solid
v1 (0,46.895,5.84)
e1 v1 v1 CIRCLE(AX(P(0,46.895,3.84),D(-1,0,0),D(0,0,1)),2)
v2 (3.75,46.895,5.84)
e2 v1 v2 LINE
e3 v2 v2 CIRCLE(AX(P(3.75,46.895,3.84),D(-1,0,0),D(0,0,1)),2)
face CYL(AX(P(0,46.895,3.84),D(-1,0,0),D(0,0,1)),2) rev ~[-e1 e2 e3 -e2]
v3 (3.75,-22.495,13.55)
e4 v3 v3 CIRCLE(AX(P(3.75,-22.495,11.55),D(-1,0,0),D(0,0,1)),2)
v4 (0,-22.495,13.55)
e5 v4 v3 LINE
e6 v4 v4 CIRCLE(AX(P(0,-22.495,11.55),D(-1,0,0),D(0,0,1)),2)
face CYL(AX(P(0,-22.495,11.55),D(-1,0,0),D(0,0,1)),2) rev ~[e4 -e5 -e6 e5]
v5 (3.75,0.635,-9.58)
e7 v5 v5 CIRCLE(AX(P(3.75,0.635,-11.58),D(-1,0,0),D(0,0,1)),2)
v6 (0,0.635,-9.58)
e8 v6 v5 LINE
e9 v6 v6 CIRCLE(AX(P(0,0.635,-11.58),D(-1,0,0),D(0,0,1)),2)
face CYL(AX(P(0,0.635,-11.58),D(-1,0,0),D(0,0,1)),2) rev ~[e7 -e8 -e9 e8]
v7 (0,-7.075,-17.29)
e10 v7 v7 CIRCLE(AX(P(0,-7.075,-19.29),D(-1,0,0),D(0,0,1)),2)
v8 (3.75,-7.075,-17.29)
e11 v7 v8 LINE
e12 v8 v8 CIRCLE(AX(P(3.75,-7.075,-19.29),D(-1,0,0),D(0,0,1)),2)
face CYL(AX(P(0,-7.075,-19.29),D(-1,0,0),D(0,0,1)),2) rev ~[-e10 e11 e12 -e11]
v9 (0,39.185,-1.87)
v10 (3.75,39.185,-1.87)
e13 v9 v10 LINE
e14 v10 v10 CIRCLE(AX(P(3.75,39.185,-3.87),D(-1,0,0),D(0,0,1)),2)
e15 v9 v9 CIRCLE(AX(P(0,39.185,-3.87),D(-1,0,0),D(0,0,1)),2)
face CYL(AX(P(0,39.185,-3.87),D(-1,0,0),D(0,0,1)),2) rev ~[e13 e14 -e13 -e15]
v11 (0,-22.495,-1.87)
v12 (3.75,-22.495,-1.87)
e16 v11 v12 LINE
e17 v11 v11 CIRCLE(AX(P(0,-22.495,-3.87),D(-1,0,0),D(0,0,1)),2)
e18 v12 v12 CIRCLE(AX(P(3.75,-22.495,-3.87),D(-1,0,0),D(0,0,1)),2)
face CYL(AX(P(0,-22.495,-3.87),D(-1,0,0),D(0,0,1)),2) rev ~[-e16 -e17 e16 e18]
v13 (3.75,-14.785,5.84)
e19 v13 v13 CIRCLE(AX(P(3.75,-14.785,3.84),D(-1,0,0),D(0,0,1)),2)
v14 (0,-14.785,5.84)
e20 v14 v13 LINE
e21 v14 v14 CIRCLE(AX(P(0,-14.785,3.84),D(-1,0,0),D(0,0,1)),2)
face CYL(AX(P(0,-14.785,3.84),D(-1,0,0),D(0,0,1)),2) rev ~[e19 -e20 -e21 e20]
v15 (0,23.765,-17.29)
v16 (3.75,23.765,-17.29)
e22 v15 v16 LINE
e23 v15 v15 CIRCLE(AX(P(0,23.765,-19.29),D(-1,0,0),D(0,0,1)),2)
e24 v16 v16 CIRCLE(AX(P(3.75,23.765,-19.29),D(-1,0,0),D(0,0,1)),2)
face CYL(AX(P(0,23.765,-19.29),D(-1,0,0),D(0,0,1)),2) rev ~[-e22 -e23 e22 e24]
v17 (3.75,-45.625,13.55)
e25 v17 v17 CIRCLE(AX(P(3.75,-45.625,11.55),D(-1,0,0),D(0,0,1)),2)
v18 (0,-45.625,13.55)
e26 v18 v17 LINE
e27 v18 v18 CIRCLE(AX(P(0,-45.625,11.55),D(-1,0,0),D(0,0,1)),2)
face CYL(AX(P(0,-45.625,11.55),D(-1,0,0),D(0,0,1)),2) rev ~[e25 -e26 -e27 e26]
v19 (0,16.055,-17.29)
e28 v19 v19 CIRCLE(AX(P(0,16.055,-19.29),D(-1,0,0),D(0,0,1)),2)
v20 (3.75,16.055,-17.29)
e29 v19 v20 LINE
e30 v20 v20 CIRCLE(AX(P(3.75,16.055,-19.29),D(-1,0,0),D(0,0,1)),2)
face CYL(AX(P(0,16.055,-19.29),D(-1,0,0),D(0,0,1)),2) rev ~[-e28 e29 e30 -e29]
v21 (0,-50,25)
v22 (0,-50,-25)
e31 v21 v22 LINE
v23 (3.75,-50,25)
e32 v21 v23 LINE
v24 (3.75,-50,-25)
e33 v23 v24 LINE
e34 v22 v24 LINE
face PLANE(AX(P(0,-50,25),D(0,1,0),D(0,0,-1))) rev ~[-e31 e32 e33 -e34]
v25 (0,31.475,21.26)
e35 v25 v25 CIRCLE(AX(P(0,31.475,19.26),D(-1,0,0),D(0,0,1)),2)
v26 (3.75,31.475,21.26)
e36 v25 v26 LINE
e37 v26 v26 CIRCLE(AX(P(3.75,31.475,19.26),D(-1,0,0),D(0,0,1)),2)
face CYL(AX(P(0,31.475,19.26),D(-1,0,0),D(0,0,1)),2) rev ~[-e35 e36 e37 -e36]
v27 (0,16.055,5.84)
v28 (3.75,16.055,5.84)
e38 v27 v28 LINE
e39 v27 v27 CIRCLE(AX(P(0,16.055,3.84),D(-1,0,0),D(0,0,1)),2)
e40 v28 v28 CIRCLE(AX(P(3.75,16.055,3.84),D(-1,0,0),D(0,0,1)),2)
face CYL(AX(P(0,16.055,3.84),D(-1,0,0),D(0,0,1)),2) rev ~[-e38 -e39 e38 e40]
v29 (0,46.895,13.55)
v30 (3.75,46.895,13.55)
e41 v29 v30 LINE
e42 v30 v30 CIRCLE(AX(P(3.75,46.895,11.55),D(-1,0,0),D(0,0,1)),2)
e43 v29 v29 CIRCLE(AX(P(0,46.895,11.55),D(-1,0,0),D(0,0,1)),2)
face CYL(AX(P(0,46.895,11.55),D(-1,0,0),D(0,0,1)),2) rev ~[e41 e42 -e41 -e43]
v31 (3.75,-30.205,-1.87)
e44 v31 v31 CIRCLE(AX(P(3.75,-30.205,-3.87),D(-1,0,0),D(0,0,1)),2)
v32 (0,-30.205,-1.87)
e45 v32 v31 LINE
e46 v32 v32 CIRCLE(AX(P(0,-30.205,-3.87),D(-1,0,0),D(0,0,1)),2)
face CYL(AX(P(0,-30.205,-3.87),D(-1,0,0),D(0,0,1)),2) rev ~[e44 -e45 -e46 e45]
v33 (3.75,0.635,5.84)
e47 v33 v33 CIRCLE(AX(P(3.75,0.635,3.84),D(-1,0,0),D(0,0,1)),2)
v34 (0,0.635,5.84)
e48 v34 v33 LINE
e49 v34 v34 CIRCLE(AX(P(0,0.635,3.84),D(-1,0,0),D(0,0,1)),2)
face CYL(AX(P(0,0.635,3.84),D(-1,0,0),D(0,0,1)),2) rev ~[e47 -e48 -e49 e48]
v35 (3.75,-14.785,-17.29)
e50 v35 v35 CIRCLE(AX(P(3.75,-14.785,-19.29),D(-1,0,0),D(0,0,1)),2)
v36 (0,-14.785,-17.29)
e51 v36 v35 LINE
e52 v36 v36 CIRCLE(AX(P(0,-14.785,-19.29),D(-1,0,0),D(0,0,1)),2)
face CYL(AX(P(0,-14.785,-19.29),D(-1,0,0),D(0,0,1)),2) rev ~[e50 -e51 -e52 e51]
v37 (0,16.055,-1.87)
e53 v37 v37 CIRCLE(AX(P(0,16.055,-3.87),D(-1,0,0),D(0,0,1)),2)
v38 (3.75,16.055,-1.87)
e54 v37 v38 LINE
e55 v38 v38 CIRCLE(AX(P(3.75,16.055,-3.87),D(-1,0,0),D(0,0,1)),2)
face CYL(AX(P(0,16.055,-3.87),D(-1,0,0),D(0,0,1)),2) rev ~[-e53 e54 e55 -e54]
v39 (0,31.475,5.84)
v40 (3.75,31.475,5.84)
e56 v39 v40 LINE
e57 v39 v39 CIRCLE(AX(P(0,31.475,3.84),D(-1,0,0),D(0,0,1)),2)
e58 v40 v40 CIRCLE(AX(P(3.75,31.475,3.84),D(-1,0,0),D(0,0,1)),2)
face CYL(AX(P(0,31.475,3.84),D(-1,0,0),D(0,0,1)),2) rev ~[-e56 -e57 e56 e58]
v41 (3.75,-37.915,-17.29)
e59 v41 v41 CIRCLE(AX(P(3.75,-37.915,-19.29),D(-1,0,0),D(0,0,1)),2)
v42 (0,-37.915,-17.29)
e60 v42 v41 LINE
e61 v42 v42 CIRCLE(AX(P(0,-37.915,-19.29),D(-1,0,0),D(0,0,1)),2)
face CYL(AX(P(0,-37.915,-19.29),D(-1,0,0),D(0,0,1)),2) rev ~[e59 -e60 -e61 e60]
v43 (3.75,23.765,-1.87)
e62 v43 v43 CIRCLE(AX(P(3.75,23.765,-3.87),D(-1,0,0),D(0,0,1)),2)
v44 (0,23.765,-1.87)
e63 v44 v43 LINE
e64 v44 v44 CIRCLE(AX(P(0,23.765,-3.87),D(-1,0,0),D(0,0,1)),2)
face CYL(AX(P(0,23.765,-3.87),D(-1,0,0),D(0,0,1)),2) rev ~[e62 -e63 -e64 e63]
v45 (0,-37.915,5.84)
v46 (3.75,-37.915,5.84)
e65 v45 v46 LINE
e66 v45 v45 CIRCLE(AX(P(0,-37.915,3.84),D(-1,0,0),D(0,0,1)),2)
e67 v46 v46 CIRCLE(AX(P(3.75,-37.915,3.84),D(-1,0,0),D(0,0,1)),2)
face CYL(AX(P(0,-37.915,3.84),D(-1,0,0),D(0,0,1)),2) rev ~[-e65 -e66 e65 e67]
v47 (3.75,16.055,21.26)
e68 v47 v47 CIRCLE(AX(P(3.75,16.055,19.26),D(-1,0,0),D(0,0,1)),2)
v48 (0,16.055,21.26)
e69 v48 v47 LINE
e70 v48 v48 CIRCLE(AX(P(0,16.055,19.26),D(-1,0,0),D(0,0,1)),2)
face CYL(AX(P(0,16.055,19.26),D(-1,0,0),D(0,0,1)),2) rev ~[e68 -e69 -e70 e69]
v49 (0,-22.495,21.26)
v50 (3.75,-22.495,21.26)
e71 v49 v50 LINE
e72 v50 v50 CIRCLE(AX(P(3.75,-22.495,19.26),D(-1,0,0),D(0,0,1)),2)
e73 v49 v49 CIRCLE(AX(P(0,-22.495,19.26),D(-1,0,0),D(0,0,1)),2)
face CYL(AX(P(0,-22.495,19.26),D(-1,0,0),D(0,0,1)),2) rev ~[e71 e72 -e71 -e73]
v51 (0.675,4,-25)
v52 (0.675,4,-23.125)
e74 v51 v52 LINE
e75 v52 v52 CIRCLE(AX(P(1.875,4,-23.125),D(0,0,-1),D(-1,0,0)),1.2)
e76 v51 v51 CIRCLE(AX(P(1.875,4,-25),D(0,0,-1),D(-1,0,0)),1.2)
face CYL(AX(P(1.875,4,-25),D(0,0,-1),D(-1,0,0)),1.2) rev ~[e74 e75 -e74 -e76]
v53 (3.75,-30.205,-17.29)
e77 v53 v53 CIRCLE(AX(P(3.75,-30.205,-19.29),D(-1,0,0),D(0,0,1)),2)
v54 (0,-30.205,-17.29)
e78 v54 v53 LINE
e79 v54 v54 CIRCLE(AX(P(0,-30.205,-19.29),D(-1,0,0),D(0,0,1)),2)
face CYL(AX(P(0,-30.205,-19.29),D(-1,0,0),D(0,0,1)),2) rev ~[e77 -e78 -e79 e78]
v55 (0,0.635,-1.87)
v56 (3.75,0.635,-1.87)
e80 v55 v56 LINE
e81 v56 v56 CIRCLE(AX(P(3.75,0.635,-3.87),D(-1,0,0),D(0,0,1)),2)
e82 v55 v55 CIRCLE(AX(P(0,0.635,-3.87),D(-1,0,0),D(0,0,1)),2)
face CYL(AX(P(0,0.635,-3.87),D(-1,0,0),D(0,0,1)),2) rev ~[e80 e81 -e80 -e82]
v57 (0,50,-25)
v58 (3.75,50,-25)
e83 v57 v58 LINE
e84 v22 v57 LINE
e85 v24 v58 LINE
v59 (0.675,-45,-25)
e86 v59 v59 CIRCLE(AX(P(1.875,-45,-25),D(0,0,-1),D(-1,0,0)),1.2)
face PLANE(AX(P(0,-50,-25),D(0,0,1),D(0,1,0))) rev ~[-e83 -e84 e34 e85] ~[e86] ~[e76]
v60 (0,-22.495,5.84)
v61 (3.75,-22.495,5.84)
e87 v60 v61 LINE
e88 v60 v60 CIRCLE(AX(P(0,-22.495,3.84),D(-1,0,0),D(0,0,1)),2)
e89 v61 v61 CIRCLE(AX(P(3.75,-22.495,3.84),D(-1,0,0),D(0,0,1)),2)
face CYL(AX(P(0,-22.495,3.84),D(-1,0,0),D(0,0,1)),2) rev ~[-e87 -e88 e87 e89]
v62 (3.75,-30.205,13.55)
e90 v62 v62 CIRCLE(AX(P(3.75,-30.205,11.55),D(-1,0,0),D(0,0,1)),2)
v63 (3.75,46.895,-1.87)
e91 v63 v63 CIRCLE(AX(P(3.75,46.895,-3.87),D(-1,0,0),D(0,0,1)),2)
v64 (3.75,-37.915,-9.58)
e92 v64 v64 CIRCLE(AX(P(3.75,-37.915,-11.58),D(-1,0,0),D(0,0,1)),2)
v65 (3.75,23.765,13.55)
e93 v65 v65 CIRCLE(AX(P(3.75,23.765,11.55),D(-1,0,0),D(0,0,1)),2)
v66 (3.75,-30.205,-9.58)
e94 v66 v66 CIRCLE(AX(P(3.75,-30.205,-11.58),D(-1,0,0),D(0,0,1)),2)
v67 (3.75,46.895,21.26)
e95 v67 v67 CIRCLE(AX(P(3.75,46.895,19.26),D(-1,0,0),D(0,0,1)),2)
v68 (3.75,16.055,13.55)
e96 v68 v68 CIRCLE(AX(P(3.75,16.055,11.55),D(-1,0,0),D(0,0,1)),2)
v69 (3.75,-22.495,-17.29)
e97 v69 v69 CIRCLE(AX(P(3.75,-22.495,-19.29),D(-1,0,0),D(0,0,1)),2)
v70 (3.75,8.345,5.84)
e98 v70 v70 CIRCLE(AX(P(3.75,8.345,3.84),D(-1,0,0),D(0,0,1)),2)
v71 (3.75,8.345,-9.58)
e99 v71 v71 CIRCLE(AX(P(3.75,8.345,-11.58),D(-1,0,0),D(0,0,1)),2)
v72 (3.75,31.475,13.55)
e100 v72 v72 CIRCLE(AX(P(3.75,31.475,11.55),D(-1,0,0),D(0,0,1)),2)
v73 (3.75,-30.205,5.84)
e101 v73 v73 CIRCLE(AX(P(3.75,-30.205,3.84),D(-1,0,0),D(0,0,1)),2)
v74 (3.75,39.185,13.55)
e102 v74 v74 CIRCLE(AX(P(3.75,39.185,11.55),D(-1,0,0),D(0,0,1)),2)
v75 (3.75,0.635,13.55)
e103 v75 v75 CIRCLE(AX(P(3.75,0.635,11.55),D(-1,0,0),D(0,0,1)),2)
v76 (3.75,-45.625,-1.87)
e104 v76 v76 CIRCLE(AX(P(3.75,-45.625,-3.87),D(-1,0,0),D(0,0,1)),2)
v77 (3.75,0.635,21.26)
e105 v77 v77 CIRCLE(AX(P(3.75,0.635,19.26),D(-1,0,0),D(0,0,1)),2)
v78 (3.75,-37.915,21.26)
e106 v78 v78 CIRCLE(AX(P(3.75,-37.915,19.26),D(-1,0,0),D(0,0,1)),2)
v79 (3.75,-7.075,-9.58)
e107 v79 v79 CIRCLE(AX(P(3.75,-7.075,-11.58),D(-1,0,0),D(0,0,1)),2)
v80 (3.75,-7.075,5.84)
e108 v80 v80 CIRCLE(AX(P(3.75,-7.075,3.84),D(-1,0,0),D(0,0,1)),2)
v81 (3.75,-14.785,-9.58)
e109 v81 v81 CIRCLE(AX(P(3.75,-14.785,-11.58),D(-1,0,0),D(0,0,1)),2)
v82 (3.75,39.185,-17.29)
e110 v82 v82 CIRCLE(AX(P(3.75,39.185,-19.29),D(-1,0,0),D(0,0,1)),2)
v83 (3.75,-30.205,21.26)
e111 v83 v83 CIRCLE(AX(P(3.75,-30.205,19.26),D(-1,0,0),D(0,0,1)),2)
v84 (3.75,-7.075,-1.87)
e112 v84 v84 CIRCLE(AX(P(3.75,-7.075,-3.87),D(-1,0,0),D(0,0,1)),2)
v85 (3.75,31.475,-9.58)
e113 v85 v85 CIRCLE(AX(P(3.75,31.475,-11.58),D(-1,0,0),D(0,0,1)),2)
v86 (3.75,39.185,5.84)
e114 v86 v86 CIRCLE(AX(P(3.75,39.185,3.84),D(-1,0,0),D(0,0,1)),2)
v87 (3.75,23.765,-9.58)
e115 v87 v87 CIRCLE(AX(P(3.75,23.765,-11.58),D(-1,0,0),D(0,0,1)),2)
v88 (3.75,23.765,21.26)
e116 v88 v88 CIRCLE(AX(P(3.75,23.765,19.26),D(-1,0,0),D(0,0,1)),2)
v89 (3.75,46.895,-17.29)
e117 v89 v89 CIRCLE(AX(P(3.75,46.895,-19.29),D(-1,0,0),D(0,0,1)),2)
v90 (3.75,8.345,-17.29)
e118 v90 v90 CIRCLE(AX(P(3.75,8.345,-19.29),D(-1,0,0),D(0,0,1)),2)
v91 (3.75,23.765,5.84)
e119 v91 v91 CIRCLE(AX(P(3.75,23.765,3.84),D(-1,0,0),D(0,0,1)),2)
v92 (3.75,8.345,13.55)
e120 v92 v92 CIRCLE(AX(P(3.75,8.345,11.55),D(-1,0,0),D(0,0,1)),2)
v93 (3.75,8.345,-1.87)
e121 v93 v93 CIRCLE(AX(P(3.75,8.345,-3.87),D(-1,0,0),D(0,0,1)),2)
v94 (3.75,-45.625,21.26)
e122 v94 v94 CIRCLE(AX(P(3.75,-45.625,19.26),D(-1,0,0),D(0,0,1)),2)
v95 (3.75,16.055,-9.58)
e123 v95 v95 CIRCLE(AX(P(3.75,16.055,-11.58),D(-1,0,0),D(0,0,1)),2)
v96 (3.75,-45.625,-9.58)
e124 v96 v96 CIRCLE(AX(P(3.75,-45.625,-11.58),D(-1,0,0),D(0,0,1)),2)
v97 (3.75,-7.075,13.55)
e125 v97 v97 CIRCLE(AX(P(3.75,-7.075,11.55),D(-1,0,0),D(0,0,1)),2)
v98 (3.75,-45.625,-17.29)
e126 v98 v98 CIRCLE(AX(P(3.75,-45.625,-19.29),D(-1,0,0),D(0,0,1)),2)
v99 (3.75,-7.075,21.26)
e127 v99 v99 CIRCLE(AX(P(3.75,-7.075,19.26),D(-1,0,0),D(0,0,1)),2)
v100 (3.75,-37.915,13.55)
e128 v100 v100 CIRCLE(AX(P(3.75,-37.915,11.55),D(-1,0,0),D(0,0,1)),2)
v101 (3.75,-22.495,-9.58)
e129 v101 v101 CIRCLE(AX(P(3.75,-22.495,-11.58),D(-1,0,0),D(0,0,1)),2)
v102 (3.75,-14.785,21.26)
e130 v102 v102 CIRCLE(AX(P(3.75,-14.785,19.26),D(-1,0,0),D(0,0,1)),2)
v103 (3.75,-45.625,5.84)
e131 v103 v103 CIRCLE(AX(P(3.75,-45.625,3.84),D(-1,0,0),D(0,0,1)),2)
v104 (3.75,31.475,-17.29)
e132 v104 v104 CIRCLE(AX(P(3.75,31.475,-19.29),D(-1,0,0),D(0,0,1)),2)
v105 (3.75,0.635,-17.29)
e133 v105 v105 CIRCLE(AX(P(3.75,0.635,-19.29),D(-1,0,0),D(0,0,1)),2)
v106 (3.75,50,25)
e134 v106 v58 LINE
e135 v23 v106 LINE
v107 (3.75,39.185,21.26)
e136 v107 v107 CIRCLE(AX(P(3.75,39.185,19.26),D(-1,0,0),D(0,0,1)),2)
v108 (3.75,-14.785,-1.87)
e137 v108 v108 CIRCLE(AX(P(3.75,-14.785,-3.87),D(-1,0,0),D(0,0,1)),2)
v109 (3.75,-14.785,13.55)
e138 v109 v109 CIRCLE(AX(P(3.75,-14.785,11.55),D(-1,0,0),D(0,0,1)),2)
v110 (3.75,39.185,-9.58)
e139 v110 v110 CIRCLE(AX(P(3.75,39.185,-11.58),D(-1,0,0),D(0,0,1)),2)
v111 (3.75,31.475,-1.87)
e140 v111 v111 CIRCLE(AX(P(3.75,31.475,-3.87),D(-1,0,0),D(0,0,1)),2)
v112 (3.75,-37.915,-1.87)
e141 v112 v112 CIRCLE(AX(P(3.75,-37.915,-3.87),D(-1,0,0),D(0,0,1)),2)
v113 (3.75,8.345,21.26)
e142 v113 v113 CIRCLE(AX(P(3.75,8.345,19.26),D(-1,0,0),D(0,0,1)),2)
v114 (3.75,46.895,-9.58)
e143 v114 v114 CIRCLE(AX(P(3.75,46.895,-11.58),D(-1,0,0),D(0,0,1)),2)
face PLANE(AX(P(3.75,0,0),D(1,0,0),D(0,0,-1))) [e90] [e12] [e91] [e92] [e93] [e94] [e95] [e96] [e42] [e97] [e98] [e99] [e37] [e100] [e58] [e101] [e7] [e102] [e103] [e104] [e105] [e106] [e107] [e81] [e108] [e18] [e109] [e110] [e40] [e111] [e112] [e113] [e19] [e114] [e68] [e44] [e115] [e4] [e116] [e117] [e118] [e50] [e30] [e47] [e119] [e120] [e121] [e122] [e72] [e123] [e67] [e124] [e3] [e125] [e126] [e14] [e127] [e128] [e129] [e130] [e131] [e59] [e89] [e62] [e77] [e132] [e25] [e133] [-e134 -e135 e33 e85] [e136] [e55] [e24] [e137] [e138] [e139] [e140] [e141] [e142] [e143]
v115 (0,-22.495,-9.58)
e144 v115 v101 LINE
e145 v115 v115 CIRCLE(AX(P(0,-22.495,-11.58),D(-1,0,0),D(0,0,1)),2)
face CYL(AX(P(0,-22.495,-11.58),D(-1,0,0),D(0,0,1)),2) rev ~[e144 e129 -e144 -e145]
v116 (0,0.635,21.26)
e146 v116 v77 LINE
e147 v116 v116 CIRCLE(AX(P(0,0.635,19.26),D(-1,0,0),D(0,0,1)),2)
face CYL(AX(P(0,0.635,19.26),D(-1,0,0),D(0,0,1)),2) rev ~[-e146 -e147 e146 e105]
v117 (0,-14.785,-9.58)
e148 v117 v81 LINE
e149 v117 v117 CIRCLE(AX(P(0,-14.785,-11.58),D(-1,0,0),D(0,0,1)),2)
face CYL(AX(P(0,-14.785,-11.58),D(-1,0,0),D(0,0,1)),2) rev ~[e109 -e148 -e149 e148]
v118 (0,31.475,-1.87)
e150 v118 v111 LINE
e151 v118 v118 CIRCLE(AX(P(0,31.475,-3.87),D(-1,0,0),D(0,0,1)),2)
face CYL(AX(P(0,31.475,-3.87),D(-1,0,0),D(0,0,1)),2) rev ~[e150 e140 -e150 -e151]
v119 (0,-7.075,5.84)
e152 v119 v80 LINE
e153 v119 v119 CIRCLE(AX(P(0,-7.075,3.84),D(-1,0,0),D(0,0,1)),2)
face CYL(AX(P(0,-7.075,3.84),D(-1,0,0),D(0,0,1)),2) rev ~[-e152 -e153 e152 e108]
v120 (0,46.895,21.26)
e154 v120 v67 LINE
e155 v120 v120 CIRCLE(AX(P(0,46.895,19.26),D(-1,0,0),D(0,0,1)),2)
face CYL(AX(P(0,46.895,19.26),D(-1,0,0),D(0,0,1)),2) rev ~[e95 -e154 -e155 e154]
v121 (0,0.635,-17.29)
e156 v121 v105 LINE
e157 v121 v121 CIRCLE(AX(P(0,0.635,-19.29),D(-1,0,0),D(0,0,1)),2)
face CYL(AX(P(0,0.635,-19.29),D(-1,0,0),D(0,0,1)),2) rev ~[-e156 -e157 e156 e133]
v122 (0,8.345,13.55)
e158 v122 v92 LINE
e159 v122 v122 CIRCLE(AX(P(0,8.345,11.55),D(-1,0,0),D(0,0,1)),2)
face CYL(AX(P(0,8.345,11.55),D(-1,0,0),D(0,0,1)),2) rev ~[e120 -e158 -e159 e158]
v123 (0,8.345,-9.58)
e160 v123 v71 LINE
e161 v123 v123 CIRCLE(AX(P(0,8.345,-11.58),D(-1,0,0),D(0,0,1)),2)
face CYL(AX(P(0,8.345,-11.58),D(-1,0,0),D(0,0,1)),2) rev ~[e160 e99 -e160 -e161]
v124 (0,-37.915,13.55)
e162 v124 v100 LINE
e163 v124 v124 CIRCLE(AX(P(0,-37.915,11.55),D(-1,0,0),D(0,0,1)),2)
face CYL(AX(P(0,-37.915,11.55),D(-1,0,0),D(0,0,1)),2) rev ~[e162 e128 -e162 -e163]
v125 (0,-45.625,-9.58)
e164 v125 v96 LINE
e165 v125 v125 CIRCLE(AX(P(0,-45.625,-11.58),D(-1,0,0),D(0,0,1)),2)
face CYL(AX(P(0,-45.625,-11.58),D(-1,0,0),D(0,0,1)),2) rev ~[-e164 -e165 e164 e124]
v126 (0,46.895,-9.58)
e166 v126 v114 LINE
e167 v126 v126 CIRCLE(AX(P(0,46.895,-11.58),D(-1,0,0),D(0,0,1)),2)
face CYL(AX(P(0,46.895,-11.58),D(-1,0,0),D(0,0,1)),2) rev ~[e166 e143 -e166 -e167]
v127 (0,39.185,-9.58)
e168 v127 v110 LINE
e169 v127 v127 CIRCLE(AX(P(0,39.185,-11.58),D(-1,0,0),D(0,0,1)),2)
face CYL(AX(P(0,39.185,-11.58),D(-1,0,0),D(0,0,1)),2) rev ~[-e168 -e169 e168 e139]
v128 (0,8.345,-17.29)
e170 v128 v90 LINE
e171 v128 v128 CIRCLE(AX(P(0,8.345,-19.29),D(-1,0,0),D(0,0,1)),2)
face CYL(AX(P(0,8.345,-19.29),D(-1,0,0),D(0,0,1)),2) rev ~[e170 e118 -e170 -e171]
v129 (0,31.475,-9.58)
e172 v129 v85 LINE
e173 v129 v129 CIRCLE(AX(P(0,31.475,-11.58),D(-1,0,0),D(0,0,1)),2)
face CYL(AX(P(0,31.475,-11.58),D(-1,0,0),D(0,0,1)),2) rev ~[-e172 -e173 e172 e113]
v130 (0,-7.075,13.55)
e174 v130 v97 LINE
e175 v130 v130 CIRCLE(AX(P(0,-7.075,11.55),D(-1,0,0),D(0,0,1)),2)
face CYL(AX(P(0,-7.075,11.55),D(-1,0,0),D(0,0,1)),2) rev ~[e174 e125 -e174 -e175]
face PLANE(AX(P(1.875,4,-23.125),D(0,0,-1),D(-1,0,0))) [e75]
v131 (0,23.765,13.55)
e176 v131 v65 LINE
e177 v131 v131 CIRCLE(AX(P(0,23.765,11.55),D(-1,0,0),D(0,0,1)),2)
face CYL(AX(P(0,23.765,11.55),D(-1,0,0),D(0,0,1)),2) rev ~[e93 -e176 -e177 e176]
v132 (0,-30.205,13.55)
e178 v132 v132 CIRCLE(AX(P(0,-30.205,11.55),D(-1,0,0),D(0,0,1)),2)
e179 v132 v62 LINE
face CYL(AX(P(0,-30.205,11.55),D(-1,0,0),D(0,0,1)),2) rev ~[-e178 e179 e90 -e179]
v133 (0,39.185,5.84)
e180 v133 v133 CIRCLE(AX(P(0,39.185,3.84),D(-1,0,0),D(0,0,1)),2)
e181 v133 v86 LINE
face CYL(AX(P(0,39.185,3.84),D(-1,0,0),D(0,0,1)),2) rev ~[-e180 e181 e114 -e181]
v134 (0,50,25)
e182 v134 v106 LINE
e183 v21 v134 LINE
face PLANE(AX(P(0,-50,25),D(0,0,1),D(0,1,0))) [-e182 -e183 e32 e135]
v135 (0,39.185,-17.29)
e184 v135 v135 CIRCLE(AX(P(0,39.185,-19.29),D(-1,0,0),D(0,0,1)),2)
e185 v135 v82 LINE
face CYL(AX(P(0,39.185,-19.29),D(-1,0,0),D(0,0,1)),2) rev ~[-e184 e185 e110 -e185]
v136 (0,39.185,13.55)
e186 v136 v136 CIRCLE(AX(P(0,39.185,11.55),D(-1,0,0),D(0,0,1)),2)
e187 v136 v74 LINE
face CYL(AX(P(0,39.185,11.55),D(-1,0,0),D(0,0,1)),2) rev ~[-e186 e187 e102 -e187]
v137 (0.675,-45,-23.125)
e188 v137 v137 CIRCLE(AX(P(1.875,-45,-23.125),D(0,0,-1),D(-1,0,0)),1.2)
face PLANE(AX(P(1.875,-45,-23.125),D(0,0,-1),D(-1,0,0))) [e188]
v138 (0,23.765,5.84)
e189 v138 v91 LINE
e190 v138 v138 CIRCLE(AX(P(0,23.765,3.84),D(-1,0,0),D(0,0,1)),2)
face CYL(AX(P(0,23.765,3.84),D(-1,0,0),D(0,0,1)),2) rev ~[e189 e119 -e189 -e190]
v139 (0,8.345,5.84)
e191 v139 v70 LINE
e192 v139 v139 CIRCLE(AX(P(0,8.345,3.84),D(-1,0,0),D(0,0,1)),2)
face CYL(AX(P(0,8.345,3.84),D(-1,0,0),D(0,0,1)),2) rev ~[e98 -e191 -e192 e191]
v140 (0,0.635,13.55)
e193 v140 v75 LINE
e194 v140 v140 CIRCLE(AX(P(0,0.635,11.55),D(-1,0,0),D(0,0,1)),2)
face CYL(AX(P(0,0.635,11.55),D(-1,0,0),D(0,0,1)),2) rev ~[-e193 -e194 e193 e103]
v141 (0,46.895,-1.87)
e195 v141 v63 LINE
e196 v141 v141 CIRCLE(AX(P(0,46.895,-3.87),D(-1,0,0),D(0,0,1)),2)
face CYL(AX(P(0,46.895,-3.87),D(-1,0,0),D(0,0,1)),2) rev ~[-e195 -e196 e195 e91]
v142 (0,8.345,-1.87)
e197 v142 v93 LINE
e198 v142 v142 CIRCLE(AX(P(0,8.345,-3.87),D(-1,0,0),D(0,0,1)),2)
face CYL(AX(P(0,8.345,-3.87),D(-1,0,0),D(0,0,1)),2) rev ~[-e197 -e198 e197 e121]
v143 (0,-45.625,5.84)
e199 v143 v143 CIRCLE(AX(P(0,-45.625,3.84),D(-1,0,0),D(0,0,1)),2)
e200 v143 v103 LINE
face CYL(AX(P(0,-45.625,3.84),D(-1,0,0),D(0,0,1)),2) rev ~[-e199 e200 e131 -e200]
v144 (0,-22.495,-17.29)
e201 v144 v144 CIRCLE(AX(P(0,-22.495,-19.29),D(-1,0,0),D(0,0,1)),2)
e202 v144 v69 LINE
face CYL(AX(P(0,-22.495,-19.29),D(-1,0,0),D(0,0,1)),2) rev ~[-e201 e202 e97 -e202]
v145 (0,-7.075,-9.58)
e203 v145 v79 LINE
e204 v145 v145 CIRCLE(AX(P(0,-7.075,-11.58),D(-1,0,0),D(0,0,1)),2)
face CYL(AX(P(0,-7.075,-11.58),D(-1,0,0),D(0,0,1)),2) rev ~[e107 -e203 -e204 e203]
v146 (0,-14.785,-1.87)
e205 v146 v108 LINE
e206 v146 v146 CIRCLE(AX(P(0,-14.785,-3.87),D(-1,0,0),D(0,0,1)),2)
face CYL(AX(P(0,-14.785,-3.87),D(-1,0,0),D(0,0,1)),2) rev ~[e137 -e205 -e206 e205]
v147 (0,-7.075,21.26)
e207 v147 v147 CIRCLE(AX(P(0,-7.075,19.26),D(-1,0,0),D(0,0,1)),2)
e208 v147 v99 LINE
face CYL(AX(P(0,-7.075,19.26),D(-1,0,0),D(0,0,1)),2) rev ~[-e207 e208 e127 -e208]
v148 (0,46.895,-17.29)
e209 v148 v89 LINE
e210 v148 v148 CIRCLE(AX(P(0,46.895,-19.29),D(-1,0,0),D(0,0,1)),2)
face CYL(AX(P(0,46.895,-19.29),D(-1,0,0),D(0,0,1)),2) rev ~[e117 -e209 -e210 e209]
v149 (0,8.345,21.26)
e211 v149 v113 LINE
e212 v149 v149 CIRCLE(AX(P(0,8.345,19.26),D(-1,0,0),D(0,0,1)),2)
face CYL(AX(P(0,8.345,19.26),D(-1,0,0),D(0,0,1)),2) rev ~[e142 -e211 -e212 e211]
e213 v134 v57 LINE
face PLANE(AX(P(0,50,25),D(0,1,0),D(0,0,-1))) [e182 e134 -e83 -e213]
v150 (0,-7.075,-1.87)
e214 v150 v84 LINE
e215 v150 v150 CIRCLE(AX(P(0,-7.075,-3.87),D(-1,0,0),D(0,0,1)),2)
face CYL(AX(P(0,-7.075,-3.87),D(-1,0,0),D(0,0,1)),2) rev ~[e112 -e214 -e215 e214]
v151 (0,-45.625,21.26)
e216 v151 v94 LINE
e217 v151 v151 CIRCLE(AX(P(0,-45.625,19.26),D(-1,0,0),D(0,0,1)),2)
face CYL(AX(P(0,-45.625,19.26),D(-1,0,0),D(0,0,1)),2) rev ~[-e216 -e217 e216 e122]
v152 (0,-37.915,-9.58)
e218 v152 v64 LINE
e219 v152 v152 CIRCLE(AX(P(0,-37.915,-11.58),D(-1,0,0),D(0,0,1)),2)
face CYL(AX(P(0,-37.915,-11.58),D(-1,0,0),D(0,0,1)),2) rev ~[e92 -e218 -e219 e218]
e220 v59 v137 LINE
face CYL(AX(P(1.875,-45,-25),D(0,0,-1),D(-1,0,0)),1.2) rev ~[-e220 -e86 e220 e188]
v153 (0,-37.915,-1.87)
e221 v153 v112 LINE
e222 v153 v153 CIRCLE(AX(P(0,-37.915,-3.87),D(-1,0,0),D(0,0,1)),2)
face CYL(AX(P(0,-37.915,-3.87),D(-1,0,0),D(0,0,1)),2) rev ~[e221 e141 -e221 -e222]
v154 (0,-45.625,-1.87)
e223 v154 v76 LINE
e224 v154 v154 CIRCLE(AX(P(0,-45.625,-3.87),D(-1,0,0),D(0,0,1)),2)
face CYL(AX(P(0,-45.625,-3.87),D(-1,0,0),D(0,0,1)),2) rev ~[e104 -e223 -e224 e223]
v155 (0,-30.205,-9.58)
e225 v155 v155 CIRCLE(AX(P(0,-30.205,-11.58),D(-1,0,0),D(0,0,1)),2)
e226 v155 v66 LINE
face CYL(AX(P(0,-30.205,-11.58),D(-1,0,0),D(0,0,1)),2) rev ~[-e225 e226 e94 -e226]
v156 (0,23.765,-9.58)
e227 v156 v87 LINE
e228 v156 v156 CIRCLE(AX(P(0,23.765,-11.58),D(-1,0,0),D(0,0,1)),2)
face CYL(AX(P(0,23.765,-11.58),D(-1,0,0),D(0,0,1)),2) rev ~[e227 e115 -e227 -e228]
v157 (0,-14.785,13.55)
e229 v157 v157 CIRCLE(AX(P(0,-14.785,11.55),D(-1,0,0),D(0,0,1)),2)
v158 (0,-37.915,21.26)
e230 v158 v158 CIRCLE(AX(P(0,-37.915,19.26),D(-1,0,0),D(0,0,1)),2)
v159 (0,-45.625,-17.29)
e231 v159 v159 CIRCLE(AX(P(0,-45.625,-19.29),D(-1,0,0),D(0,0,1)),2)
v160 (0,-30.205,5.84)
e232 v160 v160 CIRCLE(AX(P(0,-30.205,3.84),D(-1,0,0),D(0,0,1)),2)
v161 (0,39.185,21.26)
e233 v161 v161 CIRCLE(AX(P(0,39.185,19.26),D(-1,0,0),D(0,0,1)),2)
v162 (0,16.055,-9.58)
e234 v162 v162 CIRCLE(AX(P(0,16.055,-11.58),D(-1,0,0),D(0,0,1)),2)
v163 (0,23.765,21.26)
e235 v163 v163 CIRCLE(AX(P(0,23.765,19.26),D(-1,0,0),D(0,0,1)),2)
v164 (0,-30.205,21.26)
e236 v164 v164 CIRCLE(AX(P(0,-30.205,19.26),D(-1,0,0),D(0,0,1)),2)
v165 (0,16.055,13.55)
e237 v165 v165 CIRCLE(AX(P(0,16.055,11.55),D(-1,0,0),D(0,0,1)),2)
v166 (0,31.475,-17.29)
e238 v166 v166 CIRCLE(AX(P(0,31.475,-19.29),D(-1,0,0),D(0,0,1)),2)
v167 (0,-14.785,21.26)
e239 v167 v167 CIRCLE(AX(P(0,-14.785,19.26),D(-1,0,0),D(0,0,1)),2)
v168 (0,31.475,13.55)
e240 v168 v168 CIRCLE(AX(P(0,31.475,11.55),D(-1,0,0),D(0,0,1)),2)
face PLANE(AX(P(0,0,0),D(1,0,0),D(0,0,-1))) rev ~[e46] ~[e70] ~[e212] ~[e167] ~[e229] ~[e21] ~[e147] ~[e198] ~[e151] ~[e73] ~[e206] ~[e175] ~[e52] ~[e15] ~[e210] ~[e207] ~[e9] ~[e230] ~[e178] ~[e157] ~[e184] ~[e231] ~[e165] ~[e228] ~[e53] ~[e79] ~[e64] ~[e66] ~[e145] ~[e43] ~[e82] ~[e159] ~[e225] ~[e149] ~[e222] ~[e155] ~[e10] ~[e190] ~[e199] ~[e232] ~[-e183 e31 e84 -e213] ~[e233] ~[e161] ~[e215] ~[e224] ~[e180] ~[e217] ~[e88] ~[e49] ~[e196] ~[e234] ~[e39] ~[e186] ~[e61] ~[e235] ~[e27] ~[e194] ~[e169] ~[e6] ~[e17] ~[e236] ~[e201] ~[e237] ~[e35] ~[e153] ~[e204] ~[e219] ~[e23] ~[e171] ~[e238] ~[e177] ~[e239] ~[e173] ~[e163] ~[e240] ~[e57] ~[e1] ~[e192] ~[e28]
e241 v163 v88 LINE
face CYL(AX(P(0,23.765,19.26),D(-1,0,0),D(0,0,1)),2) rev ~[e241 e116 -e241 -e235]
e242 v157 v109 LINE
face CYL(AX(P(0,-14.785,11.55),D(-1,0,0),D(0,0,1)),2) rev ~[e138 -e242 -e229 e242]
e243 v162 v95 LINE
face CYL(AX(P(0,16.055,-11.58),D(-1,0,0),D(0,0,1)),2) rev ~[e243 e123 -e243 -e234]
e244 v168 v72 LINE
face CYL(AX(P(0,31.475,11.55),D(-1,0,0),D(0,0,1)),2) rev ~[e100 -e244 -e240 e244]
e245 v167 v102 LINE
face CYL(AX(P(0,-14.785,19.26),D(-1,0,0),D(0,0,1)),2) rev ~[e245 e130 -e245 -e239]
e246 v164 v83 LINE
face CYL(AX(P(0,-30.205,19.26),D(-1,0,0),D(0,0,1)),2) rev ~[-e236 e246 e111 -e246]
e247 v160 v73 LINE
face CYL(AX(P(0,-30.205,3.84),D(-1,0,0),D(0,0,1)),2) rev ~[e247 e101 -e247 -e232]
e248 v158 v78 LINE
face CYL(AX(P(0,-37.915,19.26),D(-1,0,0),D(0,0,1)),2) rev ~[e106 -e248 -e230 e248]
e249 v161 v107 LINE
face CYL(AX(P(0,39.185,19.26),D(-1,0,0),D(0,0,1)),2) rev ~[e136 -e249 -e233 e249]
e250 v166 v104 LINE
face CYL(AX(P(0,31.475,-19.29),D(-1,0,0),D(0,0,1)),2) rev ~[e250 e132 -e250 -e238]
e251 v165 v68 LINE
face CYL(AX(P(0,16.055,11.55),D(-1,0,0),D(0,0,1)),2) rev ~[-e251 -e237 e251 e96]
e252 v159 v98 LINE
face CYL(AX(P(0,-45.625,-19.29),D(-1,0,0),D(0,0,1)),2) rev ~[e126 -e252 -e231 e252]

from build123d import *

# Parameters (mm, degrees)
SKETCH1_W           = 50
SKETCH1_H           = 100
BOSS_EXTRUDE1_DEPTH = 3.75
SKETCH2_R           = 2
CUT_EXTRUDE1_DEPTH  = 3.75
SKETCH5_R           = 1.2
CUT_EXTRUDE2_DEPTH  = 1.875


with BuildPart() as part:
    # Sketch1 → Boss-Extrude1 (new body)
    with BuildSketch(Plane(origin=(0, 0, 0), x_dir=(0, 0, -1), z_dir=(1, 0, 0))):
        Rectangle(SKETCH1_W, SKETCH1_H)
    extrude(amount=BOSS_EXTRUDE1_DEPTH)

    # Sketch2 → Cut-Extrude1 (cut)
    with BuildSketch(Plane.ZY):
        with Locations((-19.29, 46.895)):
            Circle(SKETCH2_R)
        with Locations((-11.58, 46.895)):
            Circle(SKETCH2_R)
        with Locations((-3.87, 46.895)):
            Circle(SKETCH2_R)
        with Locations((3.84, 46.895)):
            Circle(SKETCH2_R)
        with Locations((11.55, 46.895)):
            Circle(SKETCH2_R)
        with Locations((19.26, 46.895)):
            Circle(SKETCH2_R)
        with Locations((-19.29, 39.185)):
            Circle(SKETCH2_R)
        with Locations((-11.58, 39.185)):
            Circle(SKETCH2_R)
        with Locations((-3.87, 39.185)):
            Circle(SKETCH2_R)
        with Locations((3.84, 39.185)):
            Circle(SKETCH2_R)
        with Locations((11.55, 39.185)):
            Circle(SKETCH2_R)
        with Locations((19.26, 39.185)):
            Circle(SKETCH2_R)
        with Locations((-19.29, 31.475)):
            Circle(SKETCH2_R)
        with Locations((-11.58, 31.475)):
            Circle(SKETCH2_R)
        with Locations((-3.87, 31.475)):
            Circle(SKETCH2_R)
        with Locations((3.84, 31.475)):
            Circle(SKETCH2_R)
        with Locations((11.55, 31.475)):
            Circle(SKETCH2_R)
        with Locations((19.26, 31.475)):
            Circle(SKETCH2_R)
        with Locations((-19.29, 23.765)):
            Circle(SKETCH2_R)
        with Locations((-11.58, 23.765)):
            Circle(SKETCH2_R)
        with Locations((-3.87, 23.765)):
            Circle(SKETCH2_R)
        with Locations((3.84, 23.765)):
            Circle(SKETCH2_R)
        with Locations((11.55, 23.765)):
            Circle(SKETCH2_R)
        with Locations((19.26, 23.765)):
            Circle(SKETCH2_R)
        with Locations((-19.29, 16.055)):
            Circle(SKETCH2_R)
        with Locations((-11.58, 16.055)):
            Circle(SKETCH2_R)
        with Locations((-3.87, 16.055)):
            Circle(SKETCH2_R)
        with Locations((3.84, 16.055)):
            Circle(SKETCH2_R)
        with Locations((11.55, 16.055)):
            Circle(SKETCH2_R)
        with Locations((19.26, 16.055)):
            Circle(SKETCH2_R)
        with Locations((-19.29, 8.345)):
            Circle(SKETCH2_R)
        with Locations((-11.58, 8.345)):
            Circle(SKETCH2_R)
        with Locations((-3.87, 8.345)):
            Circle(SKETCH2_R)
        with Locations((3.84, 8.345)):
            Circle(SKETCH2_R)
        with Locations((11.55, 8.345)):
            Circle(SKETCH2_R)
        with Locations((19.26, 8.345)):
            Circle(SKETCH2_R)
        with Locations((-19.29, 0.635)):
            Circle(SKETCH2_R)
        with Locations((-11.58, 0.635)):
            Circle(SKETCH2_R)
        with Locations((-3.87, 0.635)):
            Circle(SKETCH2_R)
        with Locations((3.84, 0.635)):
            Circle(SKETCH2_R)
        with Locations((11.55, 0.635)):
            Circle(SKETCH2_R)
        with Locations((19.26, 0.635)):
            Circle(SKETCH2_R)
        with Locations((-19.29, -7.075)):
            Circle(SKETCH2_R)
        with Locations((-11.58, -7.075)):
            Circle(SKETCH2_R)
        with Locations((-3.87, -7.075)):
            Circle(SKETCH2_R)
        with Locations((3.84, -7.075)):
            Circle(SKETCH2_R)
        with Locations((11.55, -7.075)):
            Circle(SKETCH2_R)
        with Locations((19.26, -7.075)):
            Circle(SKETCH2_R)
        with Locations((-19.29, -14.785)):
            Circle(SKETCH2_R)
        with Locations((-11.58, -14.785)):
            Circle(SKETCH2_R)
        with Locations((-3.87, -14.785)):
            Circle(SKETCH2_R)
        with Locations((3.84, -14.785)):
            Circle(SKETCH2_R)
        with Locations((11.55, -14.785)):
            Circle(SKETCH2_R)
        with Locations((19.26, -14.785)):
            Circle(SKETCH2_R)
        with Locations((-19.29, -22.495)):
            Circle(SKETCH2_R)
        with Locations((-11.58, -22.495)):
            Circle(SKETCH2_R)
        with Locations((-3.87, -22.495)):
            Circle(SKETCH2_R)
        with Locations((3.84, -22.495)):
            Circle(SKETCH2_R)
        with Locations((11.55, -22.495)):
            Circle(SKETCH2_R)
        with Locations((19.26, -22.495)):
            Circle(SKETCH2_R)
        with Locations((-19.29, -30.205)):
            Circle(SKETCH2_R)
        with Locations((-11.58, -30.205)):
            Circle(SKETCH2_R)
        with Locations((-3.87, -30.205)):
            Circle(SKETCH2_R)
        with Locations((3.84, -30.205)):
            Circle(SKETCH2_R)
        with Locations((11.55, -30.205)):
            Circle(SKETCH2_R)
        with Locations((19.26, -30.205)):
            Circle(SKETCH2_R)
        with Locations((-19.29, -37.915)):
            Circle(SKETCH2_R)
        with Locations((-11.58, -37.915)):
            Circle(SKETCH2_R)
        with Locations((-3.87, -37.915)):
            Circle(SKETCH2_R)
        with Locations((3.84, -37.915)):
            Circle(SKETCH2_R)
        with Locations((11.55, -37.915)):
            Circle(SKETCH2_R)
        with Locations((19.26, -37.915)):
            Circle(SKETCH2_R)
        with Locations((-19.29, -45.625)):
            Circle(SKETCH2_R)
        with Locations((-11.58, -45.625)):
            Circle(SKETCH2_R)
        with Locations((-3.87, -45.625)):
            Circle(SKETCH2_R)
        with Locations((3.84, -45.625)):
            Circle(SKETCH2_R)
        with Locations((11.55, -45.625)):
            Circle(SKETCH2_R)
        with Locations((19.26, -45.625)):
            Circle(SKETCH2_R)
    extrude(amount=-CUT_EXTRUDE1_DEPTH, mode=Mode.SUBTRACT)

    # Sketch5 → Cut-Extrude2 (cut)
    with BuildSketch(Plane(origin=(0, 0, -25), x_dir=(-1, 0, 0), z_dir=(0, 0, -1))):
        with Locations((-1.875, 4)):
            Circle(SKETCH5_R)
        with Locations((-1.875, -45)):
            Circle(SKETCH5_R)
    extrude(amount=-CUT_EXTRUDE2_DEPTH, mode=Mode.SUBTRACT)


solid = part.part
